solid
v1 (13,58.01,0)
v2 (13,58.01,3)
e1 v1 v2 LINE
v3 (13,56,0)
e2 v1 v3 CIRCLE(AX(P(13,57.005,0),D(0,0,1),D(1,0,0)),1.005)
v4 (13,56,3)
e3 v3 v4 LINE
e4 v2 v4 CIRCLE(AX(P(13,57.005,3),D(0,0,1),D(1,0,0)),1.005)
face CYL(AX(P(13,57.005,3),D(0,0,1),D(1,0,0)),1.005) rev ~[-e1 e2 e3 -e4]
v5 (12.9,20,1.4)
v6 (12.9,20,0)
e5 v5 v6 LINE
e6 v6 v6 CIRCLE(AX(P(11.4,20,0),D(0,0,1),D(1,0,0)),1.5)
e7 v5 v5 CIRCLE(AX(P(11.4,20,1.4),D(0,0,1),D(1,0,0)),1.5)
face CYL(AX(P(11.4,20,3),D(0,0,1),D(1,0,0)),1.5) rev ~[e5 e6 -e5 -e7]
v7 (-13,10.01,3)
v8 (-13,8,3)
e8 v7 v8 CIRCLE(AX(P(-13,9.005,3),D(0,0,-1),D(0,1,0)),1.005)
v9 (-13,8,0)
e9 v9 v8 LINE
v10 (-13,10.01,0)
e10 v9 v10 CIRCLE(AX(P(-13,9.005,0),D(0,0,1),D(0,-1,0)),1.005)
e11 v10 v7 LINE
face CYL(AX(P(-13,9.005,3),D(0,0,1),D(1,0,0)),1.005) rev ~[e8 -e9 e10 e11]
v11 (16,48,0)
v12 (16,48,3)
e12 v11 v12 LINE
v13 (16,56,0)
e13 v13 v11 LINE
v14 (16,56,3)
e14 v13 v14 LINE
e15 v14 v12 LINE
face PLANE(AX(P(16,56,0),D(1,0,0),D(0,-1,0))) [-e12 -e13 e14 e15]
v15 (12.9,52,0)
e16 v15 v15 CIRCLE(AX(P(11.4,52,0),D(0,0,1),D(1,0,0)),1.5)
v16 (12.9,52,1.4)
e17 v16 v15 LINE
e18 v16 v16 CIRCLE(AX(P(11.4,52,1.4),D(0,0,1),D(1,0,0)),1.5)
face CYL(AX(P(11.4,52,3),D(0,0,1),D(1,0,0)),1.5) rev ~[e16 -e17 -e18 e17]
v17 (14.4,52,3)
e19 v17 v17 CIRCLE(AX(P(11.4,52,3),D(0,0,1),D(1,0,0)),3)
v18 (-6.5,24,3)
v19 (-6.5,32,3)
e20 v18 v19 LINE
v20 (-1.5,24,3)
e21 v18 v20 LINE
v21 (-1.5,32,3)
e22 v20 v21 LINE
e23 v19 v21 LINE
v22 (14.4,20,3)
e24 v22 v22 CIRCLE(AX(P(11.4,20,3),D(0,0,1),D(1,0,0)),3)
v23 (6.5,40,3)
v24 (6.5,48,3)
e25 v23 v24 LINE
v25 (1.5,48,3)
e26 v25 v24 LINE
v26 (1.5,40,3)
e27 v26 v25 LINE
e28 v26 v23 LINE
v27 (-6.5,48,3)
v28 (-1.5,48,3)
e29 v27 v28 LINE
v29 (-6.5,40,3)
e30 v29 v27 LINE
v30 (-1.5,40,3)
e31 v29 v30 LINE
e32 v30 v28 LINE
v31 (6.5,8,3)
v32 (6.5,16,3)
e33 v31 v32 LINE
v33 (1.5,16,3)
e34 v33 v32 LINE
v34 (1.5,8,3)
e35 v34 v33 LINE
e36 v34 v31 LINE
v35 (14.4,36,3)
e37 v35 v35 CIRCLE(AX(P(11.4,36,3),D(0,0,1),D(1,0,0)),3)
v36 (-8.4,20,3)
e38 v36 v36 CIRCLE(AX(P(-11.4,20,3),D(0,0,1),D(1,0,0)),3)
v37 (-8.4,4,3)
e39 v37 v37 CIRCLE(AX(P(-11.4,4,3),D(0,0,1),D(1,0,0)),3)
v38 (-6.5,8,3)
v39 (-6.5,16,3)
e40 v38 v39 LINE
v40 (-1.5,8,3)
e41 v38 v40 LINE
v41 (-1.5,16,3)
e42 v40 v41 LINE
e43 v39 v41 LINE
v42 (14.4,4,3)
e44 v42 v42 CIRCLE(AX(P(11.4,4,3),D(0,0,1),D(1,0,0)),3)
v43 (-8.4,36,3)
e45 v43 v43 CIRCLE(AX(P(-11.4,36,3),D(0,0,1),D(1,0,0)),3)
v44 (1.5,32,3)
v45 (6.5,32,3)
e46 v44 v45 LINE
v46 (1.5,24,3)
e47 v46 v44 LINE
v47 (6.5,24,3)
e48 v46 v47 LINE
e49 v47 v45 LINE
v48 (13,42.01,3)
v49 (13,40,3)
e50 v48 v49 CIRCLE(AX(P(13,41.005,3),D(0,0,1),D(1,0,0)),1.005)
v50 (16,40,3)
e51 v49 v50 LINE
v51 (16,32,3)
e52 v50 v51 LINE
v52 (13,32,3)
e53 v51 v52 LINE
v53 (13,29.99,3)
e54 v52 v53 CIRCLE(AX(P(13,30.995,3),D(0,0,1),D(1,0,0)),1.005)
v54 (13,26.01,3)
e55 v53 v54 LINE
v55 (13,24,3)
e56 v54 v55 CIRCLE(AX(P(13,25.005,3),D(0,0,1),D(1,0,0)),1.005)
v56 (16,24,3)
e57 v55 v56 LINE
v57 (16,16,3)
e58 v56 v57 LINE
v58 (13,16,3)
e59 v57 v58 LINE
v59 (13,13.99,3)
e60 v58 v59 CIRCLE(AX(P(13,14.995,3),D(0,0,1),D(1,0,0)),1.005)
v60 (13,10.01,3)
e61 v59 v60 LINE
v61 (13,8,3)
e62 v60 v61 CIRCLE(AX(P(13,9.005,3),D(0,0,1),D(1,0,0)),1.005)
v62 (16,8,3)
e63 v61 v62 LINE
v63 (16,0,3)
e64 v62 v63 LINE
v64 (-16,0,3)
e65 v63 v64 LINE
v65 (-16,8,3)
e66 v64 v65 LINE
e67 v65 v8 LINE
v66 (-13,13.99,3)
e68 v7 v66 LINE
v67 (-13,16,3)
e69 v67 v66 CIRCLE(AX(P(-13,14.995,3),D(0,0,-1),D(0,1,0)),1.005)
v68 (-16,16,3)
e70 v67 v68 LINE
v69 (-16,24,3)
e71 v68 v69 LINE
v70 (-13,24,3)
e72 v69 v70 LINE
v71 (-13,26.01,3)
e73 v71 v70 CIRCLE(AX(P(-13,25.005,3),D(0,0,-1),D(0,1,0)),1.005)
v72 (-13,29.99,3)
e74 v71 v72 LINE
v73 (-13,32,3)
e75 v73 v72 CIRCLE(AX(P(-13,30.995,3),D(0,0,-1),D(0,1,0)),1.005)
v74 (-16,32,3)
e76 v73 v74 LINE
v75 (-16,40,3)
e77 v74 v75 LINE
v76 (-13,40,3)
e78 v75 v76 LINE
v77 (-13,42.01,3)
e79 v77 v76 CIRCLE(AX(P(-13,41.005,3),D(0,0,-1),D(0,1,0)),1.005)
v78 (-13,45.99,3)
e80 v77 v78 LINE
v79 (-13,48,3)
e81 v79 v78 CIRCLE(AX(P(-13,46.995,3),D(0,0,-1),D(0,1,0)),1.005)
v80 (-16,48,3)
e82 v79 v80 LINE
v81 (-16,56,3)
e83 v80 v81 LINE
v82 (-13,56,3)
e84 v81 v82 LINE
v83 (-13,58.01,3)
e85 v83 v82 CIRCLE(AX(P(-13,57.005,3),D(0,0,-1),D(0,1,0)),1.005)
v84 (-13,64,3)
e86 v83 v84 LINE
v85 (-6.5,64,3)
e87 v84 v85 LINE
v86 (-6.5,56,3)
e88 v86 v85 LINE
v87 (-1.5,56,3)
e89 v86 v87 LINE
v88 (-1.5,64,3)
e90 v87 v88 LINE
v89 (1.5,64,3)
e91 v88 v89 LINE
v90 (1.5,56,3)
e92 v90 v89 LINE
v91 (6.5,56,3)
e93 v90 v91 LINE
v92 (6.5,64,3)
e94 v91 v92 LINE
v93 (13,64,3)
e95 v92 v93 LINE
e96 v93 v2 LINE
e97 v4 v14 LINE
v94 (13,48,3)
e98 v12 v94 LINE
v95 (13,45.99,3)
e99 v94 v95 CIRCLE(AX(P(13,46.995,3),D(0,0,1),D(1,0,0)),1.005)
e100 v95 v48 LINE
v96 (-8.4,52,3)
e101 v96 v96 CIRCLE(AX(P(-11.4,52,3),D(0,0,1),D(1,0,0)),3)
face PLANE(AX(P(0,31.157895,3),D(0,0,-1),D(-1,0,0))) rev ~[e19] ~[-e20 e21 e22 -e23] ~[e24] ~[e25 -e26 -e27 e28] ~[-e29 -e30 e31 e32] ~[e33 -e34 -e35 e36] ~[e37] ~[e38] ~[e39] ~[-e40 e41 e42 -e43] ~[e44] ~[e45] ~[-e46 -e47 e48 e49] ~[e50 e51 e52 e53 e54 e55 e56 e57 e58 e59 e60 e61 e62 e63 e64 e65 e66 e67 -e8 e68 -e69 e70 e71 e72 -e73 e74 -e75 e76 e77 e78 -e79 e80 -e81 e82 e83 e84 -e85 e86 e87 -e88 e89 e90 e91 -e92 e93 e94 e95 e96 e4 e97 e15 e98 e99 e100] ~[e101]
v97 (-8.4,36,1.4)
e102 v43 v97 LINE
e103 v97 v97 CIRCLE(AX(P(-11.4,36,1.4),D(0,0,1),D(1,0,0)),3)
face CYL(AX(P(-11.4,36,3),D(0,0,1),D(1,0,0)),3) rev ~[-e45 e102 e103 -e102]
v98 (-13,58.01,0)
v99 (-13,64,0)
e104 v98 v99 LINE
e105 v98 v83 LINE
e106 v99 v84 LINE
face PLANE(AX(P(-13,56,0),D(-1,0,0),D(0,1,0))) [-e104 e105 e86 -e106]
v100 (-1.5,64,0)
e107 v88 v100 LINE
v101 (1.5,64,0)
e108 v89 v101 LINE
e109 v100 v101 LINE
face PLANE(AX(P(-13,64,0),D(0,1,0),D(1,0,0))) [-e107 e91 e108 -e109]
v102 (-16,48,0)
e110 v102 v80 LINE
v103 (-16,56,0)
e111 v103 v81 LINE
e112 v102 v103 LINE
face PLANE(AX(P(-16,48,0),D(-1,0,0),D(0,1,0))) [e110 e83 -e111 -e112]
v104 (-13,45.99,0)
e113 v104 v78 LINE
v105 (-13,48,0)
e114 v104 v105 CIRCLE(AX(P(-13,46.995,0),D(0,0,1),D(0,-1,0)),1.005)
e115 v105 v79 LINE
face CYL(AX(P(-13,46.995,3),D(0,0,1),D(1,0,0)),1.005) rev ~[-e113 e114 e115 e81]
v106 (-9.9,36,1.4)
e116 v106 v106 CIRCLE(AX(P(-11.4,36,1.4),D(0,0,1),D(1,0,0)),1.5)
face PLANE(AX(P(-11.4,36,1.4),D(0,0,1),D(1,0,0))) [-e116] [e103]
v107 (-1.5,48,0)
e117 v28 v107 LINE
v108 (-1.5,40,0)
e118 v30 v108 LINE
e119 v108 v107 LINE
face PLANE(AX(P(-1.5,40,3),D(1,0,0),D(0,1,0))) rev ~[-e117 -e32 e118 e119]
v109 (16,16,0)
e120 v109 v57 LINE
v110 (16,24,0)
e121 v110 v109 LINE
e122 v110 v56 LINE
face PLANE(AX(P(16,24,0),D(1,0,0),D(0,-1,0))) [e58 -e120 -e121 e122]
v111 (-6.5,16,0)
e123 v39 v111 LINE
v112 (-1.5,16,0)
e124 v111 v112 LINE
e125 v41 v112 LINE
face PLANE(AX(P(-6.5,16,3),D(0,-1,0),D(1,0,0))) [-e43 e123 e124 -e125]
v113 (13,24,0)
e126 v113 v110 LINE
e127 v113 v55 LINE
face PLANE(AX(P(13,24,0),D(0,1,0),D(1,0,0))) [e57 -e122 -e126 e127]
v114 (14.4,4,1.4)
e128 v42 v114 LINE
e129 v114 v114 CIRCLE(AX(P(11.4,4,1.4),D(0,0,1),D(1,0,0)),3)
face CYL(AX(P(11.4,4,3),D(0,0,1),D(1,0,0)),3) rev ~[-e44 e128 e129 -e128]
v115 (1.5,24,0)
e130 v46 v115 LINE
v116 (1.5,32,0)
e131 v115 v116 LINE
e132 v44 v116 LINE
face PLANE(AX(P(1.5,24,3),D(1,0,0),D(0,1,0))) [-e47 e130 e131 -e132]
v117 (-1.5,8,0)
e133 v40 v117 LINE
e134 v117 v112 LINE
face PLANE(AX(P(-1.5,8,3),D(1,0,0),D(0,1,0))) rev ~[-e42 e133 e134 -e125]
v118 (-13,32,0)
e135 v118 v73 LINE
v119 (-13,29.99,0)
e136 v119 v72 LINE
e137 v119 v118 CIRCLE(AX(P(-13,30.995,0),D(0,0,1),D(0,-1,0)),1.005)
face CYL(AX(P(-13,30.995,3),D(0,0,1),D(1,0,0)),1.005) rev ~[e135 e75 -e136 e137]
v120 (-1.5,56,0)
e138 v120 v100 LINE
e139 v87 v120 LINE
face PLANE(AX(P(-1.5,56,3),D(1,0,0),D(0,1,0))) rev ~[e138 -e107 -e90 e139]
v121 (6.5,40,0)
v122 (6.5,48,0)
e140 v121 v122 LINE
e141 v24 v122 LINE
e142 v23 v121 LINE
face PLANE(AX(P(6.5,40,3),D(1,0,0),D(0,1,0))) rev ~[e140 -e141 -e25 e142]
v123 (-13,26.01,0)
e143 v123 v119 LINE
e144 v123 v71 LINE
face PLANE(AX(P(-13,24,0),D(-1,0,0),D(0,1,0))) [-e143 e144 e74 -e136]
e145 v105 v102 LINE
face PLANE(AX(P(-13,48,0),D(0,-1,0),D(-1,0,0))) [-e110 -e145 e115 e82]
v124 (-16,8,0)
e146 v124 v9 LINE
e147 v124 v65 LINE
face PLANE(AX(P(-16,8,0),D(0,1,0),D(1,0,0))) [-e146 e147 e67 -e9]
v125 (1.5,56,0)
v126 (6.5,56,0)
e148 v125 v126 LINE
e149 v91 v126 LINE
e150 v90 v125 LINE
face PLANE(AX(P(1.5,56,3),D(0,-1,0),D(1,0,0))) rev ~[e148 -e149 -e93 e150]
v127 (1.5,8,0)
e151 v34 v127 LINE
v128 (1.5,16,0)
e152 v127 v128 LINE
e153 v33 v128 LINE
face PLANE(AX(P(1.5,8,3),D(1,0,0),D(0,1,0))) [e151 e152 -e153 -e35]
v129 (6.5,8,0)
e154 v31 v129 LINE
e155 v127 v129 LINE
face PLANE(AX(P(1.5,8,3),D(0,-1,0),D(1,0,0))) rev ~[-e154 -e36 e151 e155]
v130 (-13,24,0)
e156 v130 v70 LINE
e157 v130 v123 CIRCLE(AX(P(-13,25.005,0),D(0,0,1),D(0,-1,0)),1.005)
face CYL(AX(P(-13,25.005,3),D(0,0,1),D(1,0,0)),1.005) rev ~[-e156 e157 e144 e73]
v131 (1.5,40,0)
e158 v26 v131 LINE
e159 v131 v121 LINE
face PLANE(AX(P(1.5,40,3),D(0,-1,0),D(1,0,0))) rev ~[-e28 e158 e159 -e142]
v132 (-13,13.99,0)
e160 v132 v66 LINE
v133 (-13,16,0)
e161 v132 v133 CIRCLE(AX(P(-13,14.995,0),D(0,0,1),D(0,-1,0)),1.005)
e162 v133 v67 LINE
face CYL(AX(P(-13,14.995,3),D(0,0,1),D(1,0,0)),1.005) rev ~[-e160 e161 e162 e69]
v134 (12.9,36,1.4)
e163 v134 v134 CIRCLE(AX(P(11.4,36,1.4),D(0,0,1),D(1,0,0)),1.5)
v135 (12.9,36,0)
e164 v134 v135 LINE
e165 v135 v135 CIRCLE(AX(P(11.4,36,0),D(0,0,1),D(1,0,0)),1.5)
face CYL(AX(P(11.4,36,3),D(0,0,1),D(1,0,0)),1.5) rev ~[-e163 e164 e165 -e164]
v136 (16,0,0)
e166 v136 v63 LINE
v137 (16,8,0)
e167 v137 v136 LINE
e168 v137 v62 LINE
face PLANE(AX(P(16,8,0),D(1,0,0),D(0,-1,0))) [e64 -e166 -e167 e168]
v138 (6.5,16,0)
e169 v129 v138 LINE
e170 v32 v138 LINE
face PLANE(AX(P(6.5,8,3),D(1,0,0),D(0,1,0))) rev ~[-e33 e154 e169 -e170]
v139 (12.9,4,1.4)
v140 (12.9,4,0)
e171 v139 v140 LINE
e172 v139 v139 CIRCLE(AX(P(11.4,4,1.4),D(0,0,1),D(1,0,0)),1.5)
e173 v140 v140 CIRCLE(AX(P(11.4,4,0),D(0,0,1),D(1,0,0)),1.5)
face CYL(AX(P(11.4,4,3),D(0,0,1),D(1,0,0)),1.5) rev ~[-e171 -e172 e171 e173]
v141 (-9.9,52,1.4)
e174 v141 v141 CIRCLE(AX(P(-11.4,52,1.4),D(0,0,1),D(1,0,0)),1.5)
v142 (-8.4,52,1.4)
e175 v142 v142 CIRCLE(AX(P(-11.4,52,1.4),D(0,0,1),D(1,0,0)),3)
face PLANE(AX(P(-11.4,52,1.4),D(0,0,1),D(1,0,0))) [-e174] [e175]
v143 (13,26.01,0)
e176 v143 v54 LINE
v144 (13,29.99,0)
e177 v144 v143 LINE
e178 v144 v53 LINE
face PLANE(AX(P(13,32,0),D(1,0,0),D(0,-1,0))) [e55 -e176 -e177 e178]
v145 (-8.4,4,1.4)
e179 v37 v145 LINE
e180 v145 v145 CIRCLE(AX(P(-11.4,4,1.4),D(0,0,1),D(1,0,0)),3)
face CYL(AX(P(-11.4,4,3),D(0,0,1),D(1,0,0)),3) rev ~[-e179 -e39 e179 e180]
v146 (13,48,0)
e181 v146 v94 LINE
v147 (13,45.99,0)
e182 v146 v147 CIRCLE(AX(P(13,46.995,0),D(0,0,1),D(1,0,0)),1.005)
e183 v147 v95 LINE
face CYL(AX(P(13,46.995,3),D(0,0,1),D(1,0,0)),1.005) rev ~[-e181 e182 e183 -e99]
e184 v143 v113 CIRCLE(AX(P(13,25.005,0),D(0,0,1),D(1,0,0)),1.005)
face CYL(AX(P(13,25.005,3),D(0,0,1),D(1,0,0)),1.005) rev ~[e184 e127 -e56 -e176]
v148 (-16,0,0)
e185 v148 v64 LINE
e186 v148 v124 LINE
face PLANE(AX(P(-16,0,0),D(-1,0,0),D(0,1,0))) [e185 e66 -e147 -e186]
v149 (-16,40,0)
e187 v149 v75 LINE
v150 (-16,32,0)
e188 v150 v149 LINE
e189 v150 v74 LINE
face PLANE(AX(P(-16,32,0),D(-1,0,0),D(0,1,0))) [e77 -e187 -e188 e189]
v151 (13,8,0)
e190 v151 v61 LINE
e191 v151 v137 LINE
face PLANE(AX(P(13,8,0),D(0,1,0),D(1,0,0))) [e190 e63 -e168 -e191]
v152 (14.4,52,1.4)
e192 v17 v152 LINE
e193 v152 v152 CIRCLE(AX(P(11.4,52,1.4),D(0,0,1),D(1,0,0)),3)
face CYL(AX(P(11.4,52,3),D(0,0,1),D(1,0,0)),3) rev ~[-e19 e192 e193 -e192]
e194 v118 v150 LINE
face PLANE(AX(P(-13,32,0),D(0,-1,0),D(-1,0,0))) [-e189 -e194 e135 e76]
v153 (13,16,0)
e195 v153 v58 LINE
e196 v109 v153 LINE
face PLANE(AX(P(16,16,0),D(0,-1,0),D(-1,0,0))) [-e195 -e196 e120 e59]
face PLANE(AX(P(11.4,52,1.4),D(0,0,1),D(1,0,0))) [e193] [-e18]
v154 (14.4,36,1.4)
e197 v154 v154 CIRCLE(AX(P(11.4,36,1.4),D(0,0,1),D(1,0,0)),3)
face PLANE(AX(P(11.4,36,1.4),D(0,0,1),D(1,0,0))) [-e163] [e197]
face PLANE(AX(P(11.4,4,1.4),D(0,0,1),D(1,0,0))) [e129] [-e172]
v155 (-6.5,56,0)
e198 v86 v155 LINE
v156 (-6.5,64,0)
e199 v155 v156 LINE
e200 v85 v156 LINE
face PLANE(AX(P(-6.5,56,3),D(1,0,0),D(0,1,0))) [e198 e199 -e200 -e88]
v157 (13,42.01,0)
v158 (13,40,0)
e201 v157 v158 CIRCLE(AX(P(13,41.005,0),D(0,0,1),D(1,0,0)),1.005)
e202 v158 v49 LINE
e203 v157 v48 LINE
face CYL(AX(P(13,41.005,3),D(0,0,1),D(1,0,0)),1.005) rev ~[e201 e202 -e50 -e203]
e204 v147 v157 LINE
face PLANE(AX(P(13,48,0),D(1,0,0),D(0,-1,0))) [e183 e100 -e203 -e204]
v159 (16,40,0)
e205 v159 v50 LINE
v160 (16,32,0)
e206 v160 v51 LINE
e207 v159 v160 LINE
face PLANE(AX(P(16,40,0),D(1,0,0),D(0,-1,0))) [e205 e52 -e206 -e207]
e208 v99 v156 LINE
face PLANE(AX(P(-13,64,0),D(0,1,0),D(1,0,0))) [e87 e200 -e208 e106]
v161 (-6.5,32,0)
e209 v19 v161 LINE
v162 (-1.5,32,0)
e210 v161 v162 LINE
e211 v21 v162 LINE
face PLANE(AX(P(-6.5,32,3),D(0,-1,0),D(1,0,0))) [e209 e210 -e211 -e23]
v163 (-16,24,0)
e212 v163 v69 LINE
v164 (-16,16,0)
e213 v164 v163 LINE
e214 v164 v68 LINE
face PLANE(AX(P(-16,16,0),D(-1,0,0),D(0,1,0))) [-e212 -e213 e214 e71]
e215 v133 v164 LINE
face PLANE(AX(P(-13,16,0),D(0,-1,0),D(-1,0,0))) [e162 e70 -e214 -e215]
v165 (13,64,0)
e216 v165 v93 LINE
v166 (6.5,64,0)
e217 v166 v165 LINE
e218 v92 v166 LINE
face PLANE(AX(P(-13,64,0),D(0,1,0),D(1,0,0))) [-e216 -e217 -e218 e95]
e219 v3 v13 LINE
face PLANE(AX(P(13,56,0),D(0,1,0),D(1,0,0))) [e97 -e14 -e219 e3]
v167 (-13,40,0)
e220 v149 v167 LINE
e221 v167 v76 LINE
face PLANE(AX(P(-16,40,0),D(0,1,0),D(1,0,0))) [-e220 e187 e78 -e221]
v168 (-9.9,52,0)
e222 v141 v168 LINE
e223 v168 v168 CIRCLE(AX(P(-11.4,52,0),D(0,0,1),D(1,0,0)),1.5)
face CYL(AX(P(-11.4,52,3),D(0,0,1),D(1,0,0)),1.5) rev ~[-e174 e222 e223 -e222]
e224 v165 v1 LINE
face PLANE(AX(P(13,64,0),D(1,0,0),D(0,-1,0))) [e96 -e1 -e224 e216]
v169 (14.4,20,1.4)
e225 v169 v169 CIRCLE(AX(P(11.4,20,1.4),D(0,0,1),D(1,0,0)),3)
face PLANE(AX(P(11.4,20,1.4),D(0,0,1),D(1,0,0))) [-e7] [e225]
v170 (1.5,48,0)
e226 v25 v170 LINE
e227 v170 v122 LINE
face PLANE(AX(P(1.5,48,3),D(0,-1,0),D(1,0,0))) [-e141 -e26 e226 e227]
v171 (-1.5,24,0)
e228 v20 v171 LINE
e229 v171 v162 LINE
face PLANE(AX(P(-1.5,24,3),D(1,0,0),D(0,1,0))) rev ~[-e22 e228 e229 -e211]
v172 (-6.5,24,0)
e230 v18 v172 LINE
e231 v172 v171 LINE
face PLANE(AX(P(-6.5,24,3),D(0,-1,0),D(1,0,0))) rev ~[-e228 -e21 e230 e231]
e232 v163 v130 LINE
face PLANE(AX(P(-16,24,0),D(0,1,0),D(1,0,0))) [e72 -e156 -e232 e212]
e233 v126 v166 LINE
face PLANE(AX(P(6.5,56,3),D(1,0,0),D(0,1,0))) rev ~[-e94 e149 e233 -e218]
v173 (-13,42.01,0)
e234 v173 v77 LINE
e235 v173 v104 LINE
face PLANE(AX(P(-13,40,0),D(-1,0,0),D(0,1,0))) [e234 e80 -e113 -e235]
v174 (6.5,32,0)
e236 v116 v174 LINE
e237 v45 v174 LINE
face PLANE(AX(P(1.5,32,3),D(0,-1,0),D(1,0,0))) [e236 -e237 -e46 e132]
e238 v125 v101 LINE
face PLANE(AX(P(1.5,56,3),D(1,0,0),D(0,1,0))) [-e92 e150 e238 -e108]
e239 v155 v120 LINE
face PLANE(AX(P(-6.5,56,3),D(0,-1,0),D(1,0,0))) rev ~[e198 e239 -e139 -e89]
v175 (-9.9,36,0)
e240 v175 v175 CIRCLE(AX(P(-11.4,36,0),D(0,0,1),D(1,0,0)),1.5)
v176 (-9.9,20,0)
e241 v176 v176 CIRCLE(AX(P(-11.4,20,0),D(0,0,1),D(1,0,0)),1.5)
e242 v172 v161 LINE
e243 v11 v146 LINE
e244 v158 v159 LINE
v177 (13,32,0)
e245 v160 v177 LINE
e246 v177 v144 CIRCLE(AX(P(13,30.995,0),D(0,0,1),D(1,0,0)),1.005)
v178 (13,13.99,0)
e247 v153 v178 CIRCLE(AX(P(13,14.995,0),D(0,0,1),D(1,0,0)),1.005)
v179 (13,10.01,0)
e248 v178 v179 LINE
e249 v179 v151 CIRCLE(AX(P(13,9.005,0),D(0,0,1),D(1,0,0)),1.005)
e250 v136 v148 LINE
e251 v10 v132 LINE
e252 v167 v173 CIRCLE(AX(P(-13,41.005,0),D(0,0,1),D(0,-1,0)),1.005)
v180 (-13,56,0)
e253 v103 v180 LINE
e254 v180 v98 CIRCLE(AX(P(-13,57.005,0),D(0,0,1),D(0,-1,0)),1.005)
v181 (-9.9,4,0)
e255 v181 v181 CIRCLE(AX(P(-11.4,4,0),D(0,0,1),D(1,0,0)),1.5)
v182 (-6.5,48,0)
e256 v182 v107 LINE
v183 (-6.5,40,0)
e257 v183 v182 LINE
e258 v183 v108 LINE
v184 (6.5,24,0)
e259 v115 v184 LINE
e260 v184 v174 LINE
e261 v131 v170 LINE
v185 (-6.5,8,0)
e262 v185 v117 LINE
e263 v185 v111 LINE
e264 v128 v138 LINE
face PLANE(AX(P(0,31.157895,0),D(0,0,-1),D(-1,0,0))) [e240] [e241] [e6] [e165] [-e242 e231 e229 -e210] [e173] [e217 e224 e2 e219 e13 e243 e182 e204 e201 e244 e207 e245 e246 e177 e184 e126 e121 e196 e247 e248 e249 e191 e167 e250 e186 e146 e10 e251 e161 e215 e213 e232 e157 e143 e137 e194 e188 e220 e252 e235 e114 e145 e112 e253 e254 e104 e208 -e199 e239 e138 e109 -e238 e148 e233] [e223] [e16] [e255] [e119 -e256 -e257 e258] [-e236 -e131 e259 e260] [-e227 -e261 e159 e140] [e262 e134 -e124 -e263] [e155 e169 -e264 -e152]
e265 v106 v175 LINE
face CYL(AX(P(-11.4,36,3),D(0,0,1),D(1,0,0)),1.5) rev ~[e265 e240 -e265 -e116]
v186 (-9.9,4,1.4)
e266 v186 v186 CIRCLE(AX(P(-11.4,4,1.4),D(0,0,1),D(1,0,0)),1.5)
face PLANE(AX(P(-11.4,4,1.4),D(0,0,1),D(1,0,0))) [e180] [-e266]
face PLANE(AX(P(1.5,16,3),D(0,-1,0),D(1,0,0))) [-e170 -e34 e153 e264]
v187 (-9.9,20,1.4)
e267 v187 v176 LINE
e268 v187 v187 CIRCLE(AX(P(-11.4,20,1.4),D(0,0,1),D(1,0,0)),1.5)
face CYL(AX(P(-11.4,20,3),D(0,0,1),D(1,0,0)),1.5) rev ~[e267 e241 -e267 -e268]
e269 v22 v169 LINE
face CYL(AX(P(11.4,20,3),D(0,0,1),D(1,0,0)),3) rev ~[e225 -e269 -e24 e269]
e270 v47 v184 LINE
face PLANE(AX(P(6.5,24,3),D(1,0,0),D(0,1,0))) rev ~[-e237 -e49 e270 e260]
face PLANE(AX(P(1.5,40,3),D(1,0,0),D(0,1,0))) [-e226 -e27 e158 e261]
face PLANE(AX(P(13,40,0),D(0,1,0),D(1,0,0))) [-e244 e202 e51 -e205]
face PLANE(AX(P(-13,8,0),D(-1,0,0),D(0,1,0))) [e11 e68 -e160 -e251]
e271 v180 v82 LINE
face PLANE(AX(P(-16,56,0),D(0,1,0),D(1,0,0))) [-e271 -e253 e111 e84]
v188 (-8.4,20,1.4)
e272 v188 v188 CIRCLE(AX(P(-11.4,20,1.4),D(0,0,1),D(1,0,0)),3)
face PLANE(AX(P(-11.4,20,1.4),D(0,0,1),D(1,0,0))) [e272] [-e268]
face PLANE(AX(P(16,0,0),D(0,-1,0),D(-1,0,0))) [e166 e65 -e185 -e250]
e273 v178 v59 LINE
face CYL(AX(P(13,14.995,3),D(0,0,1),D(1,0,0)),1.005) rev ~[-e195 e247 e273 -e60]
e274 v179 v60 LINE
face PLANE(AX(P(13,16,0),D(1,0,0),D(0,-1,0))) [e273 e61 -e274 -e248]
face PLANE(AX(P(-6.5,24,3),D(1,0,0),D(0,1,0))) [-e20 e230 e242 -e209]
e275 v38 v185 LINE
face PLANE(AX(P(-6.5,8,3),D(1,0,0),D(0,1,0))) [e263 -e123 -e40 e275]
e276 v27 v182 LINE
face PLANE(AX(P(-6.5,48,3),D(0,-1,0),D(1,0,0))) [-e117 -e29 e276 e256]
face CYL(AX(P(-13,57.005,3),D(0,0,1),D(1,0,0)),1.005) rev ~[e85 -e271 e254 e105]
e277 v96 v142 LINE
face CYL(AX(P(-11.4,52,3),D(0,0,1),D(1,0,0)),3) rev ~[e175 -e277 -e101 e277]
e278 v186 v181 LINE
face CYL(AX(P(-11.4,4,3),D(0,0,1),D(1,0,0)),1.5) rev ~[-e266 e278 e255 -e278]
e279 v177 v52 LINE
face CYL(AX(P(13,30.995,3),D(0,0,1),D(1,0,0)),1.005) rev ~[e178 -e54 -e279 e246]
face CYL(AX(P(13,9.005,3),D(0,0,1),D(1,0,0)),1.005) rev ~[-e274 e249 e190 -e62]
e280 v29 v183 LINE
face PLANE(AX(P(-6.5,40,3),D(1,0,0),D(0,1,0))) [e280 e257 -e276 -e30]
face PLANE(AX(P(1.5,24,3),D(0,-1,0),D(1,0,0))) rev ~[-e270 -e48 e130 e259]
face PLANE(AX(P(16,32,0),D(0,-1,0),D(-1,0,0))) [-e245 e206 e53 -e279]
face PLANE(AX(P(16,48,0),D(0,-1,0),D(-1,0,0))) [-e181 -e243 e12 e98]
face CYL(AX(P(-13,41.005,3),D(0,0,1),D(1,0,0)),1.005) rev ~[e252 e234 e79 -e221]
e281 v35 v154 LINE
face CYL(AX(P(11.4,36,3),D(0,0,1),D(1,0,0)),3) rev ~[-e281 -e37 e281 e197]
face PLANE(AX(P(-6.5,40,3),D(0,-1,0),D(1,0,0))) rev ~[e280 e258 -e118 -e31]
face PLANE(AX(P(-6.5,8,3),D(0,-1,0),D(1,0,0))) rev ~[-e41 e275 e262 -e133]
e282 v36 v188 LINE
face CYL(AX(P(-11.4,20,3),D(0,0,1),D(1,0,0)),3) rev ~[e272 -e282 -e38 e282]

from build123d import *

# Parameters (mm, degrees)
EXTRUDE_1_DEPTH     = 3
SKETCH_2_W          = 5
SKETCH_2_H          = 8
CUT_EXTRUDE_1_DEPTH = 3
SKETCH_3_R          = 1.5
CUT_EXTRUDE_2_DEPTH = 3
SKETCH_4_R          = 3
CUT_EXTRUDE_3_DEPTH = 1.6
CUT_EXTRUDE_4_REACH = 5
SKETCH_5_R          = 1.005


with BuildPart() as part:
    # 草图1 → 凸台-拉伸1 (new body)
    with BuildSketch(Plane.XY):
        Polygon((16, 0), (-16, 0), (-16, 8), (-13, 8), (-13, 16), (-16, 16), (-16, 24), (-13, 24), (-13, 32), (-16, 32), (-16, 40), (-13, 40), (-13, 48), (-16, 48), (-16, 56), (-13, 56), (-13, 64), (13, 64), (13, 56), (16, 56), (16, 48), (13, 48), (13, 40), (16, 40), (16, 32), (13, 32), (13, 24), (16, 24), (16, 16), (13, 16), (13, 8), (16, 8), align=None)
    extrude(amount=EXTRUDE_1_DEPTH)

    # 草图2 → 切除-拉伸1 (cut)
    with BuildSketch(Plane.XY.offset(3)):
        with Locations((-4, 28)):
            Rectangle(SKETCH_2_W, SKETCH_2_H)
        with Locations((-4, 12)):
            Rectangle(SKETCH_2_W, SKETCH_2_H)
        with Locations((4, 28)):
            Rectangle(SKETCH_2_W, SKETCH_2_H)
        with Locations((-4, 44)):
            Rectangle(SKETCH_2_W, SKETCH_2_H)
        with Locations((4, 44)):
            Rectangle(SKETCH_2_W, SKETCH_2_H)
        with Locations((4, 12)):
            Rectangle(SKETCH_2_W, SKETCH_2_H)
        with Locations((4, 60)):
            Rectangle(SKETCH_2_W, SKETCH_2_H)
        with Locations((-4, 60)):
            Rectangle(SKETCH_2_W, SKETCH_2_H)
    extrude(amount=-CUT_EXTRUDE_1_DEPTH, mode=Mode.SUBTRACT)

    # 草图3 → 切除-拉伸2 (cut)
    with BuildSketch(Plane.XY.offset(3)):
        with Locations((-11.4, 4)):
            Circle(SKETCH_3_R)
        with Locations((11.4, 4)):
            Circle(SKETCH_3_R)
        with Locations((-11.4, 20)):
            Circle(SKETCH_3_R)
        with Locations((11.4, 20)):
            Circle(SKETCH_3_R)
        with Locations((-11.4, 36)):
            Circle(SKETCH_3_R)
        with Locations((11.4, 36)):
            Circle(SKETCH_3_R)
        with Locations((-11.4, 52)):
            Circle(SKETCH_3_R)
        with Locations((11.4, 52)):
            Circle(SKETCH_3_R)
    extrude(amount=-CUT_EXTRUDE_2_DEPTH, mode=Mode.SUBTRACT)

    # 草图4 → 切除-拉伸3 (cut)
    with BuildSketch(Plane.XY.offset(3)):
        with Locations((-11.4, 4)):
            Circle(SKETCH_4_R)
        with Locations((11.4, 4)):
            Circle(SKETCH_4_R)
        with Locations((-11.4, 20)):
            Circle(SKETCH_4_R)
        with Locations((11.4, 20)):
            Circle(SKETCH_4_R)
        with Locations((-11.4, 36)):
            Circle(SKETCH_4_R)
        with Locations((11.4, 36)):
            Circle(SKETCH_4_R)
        with Locations((-11.4, 52)):
            Circle(SKETCH_4_R)
        with Locations((11.4, 52)):
            Circle(SKETCH_4_R)
    extrude(amount=-CUT_EXTRUDE_3_DEPTH, mode=Mode.SUBTRACT)

    # 草图5 → 切除-拉伸4 (cut, up to next)
    with BuildSketch(Plane.XY.offset(3), mode=Mode.PRIVATE) as cut_extrude_4_sk1:
        with Locations((-13, 57.005)):
            Circle(SKETCH_5_R)
    cut_extrude_4_tool1 = extrude(cut_extrude_4_sk1.sketch, amount=-CUT_EXTRUDE_4_REACH, mode=Mode.PRIVATE) & part.part
    add(cut_extrude_4_tool1.solids().sort_by_distance((-13, 57.005, 3))[0], mode=Mode.SUBTRACT)
    # 草图5 → 切除-拉伸4 (cut, up to next)
    with BuildSketch(Plane.XY.offset(3), mode=Mode.PRIVATE) as cut_extrude_4_sk2:
        with Locations((-13, 46.995)):
            Circle(SKETCH_5_R)
    cut_extrude_4_tool2 = extrude(cut_extrude_4_sk2.sketch, amount=-CUT_EXTRUDE_4_REACH, mode=Mode.PRIVATE) & part.part
    add(cut_extrude_4_tool2.solids().sort_by_distance((-13, 46.995, 3))[0], mode=Mode.SUBTRACT)
    # 草图5 → 切除-拉伸4 (cut, up to next)
    with BuildSketch(Plane.XY.offset(3), mode=Mode.PRIVATE) as cut_extrude_4_sk3:
        with Locations((-13, 41.005)):
            Circle(SKETCH_5_R)
    cut_extrude_4_tool3 = extrude(cut_extrude_4_sk3.sketch, amount=-CUT_EXTRUDE_4_REACH, mode=Mode.PRIVATE) & part.part
    add(cut_extrude_4_tool3.solids().sort_by_distance((-13, 41.005, 3))[0], mode=Mode.SUBTRACT)
    # 草图5 → 切除-拉伸4 (cut, up to next)
    with BuildSketch(Plane.XY.offset(3), mode=Mode.PRIVATE) as cut_extrude_4_sk4:
        with Locations((-13, 30.995)):
            Circle(SKETCH_5_R)
    cut_extrude_4_tool4 = extrude(cut_extrude_4_sk4.sketch, amount=-CUT_EXTRUDE_4_REACH, mode=Mode.PRIVATE) & part.part
    add(cut_extrude_4_tool4.solids().sort_by_distance((-13, 30.995, 3))[0], mode=Mode.SUBTRACT)
    # 草图5 → 切除-拉伸4 (cut, up to next)
    with BuildSketch(Plane.XY.offset(3), mode=Mode.PRIVATE) as cut_extrude_4_sk5:
        with Locations((-13, 25.005)):
            Circle(SKETCH_5_R)
    cut_extrude_4_tool5 = extrude(cut_extrude_4_sk5.sketch, amount=-CUT_EXTRUDE_4_REACH, mode=Mode.PRIVATE) & part.part
    add(cut_extrude_4_tool5.solids().sort_by_distance((-13, 25.005, 3))[0], mode=Mode.SUBTRACT)
    # 草图5 → 切除-拉伸4 (cut, up to next)
    with BuildSketch(Plane.XY.offset(3), mode=Mode.PRIVATE) as cut_extrude_4_sk6:
        with Locations((-13, 14.995)):
            Circle(SKETCH_5_R)
    cut_extrude_4_tool6 = extrude(cut_extrude_4_sk6.sketch, amount=-CUT_EXTRUDE_4_REACH, mode=Mode.PRIVATE) & part.part
    add(cut_extrude_4_tool6.solids().sort_by_distance((-13, 14.995, 3))[0], mode=Mode.SUBTRACT)
    # 草图5 → 切除-拉伸4 (cut, up to next)
    with BuildSketch(Plane.XY.offset(3), mode=Mode.PRIVATE) as cut_extrude_4_sk7:
        with Locations((-13, 9.005)):
            Circle(SKETCH_5_R)
    cut_extrude_4_tool7 = extrude(cut_extrude_4_sk7.sketch, amount=-CUT_EXTRUDE_4_REACH, mode=Mode.PRIVATE) & part.part
    add(cut_extrude_4_tool7.solids().sort_by_distance((-13, 9.005, 3))[0], mode=Mode.SUBTRACT)
    # 草图5 → 切除-拉伸4 (cut, up to next)
    with BuildSketch(Plane.XY.offset(3), mode=Mode.PRIVATE) as cut_extrude_4_sk8:
        with Locations((13, 9.005)):
            Circle(SKETCH_5_R)
    cut_extrude_4_tool8 = extrude(cut_extrude_4_sk8.sketch, amount=-CUT_EXTRUDE_4_REACH, mode=Mode.PRIVATE) & part.part
    add(cut_extrude_4_tool8.solids().sort_by_distance((13, 9.005, 3))[0], mode=Mode.SUBTRACT)
    # 草图5 → 切除-拉伸4 (cut, up to next)
    with BuildSketch(Plane.XY.offset(3), mode=Mode.PRIVATE) as cut_extrude_4_sk9:
        with Locations((13, 14.995)):
            Circle(SKETCH_5_R)
    cut_extrude_4_tool9 = extrude(cut_extrude_4_sk9.sketch, amount=-CUT_EXTRUDE_4_REACH, mode=Mode.PRIVATE) & part.part
    add(cut_extrude_4_tool9.solids().sort_by_distance((13, 14.995, 3))[0], mode=Mode.SUBTRACT)
    # 草图5 → 切除-拉伸4 (cut, up to next)
    with BuildSketch(Plane.XY.offset(3), mode=Mode.PRIVATE) as cut_extrude_4_sk10:
        with Locations((13, 25.005)):
            Circle(SKETCH_5_R)
    cut_extrude_4_tool10 = extrude(cut_extrude_4_sk10.sketch, amount=-CUT_EXTRUDE_4_REACH, mode=Mode.PRIVATE) & part.part
    add(cut_extrude_4_tool10.solids().sort_by_distance((13, 25.005, 3))[0], mode=Mode.SUBTRACT)
    # 草图5 → 切除-拉伸4 (cut, up to next)
    with BuildSketch(Plane.XY.offset(3), mode=Mode.PRIVATE) as cut_extrude_4_sk11:
        with Locations((13, 30.995)):
            Circle(SKETCH_5_R)
    cut_extrude_4_tool11 = extrude(cut_extrude_4_sk11.sketch, amount=-CUT_EXTRUDE_4_REACH, mode=Mode.PRIVATE) & part.part
    add(cut_extrude_4_tool11.solids().sort_by_distance((13, 30.995, 3))[0], mode=Mode.SUBTRACT)
    # 草图5 → 切除-拉伸4 (cut, up to next)
    with BuildSketch(Plane.XY.offset(3), mode=Mode.PRIVATE) as cut_extrude_4_sk12:
        with Locations((13, 41.005)):
            Circle(SKETCH_5_R)
    cut_extrude_4_tool12 = extrude(cut_extrude_4_sk12.sketch, amount=-CUT_EXTRUDE_4_REACH, mode=Mode.PRIVATE) & part.part
    add(cut_extrude_4_tool12.solids().sort_by_distance((13, 41.005, 3))[0], mode=Mode.SUBTRACT)
    # 草图5 → 切除-拉伸4 (cut, up to next)
    with BuildSketch(Plane.XY.offset(3), mode=Mode.PRIVATE) as cut_extrude_4_sk13:
        with Locations((13, 46.995)):
            Circle(SKETCH_5_R)
    cut_extrude_4_tool13 = extrude(cut_extrude_4_sk13.sketch, amount=-CUT_EXTRUDE_4_REACH, mode=Mode.PRIVATE) & part.part
    add(cut_extrude_4_tool13.solids().sort_by_distance((13, 46.995, 3))[0], mode=Mode.SUBTRACT)
    # 草图5 → 切除-拉伸4 (cut, up to next)
    with BuildSketch(Plane.XY.offset(3), mode=Mode.PRIVATE) as cut_extrude_4_sk14:
        with Locations((13, 57.005)):
            Circle(SKETCH_5_R)
    cut_extrude_4_tool14 = extrude(cut_extrude_4_sk14.sketch, amount=-CUT_EXTRUDE_4_REACH, mode=Mode.PRIVATE) & part.part
    add(cut_extrude_4_tool14.solids().sort_by_distance((13, 57.005, 3))[0], mode=Mode.SUBTRACT)


solid = part.part
